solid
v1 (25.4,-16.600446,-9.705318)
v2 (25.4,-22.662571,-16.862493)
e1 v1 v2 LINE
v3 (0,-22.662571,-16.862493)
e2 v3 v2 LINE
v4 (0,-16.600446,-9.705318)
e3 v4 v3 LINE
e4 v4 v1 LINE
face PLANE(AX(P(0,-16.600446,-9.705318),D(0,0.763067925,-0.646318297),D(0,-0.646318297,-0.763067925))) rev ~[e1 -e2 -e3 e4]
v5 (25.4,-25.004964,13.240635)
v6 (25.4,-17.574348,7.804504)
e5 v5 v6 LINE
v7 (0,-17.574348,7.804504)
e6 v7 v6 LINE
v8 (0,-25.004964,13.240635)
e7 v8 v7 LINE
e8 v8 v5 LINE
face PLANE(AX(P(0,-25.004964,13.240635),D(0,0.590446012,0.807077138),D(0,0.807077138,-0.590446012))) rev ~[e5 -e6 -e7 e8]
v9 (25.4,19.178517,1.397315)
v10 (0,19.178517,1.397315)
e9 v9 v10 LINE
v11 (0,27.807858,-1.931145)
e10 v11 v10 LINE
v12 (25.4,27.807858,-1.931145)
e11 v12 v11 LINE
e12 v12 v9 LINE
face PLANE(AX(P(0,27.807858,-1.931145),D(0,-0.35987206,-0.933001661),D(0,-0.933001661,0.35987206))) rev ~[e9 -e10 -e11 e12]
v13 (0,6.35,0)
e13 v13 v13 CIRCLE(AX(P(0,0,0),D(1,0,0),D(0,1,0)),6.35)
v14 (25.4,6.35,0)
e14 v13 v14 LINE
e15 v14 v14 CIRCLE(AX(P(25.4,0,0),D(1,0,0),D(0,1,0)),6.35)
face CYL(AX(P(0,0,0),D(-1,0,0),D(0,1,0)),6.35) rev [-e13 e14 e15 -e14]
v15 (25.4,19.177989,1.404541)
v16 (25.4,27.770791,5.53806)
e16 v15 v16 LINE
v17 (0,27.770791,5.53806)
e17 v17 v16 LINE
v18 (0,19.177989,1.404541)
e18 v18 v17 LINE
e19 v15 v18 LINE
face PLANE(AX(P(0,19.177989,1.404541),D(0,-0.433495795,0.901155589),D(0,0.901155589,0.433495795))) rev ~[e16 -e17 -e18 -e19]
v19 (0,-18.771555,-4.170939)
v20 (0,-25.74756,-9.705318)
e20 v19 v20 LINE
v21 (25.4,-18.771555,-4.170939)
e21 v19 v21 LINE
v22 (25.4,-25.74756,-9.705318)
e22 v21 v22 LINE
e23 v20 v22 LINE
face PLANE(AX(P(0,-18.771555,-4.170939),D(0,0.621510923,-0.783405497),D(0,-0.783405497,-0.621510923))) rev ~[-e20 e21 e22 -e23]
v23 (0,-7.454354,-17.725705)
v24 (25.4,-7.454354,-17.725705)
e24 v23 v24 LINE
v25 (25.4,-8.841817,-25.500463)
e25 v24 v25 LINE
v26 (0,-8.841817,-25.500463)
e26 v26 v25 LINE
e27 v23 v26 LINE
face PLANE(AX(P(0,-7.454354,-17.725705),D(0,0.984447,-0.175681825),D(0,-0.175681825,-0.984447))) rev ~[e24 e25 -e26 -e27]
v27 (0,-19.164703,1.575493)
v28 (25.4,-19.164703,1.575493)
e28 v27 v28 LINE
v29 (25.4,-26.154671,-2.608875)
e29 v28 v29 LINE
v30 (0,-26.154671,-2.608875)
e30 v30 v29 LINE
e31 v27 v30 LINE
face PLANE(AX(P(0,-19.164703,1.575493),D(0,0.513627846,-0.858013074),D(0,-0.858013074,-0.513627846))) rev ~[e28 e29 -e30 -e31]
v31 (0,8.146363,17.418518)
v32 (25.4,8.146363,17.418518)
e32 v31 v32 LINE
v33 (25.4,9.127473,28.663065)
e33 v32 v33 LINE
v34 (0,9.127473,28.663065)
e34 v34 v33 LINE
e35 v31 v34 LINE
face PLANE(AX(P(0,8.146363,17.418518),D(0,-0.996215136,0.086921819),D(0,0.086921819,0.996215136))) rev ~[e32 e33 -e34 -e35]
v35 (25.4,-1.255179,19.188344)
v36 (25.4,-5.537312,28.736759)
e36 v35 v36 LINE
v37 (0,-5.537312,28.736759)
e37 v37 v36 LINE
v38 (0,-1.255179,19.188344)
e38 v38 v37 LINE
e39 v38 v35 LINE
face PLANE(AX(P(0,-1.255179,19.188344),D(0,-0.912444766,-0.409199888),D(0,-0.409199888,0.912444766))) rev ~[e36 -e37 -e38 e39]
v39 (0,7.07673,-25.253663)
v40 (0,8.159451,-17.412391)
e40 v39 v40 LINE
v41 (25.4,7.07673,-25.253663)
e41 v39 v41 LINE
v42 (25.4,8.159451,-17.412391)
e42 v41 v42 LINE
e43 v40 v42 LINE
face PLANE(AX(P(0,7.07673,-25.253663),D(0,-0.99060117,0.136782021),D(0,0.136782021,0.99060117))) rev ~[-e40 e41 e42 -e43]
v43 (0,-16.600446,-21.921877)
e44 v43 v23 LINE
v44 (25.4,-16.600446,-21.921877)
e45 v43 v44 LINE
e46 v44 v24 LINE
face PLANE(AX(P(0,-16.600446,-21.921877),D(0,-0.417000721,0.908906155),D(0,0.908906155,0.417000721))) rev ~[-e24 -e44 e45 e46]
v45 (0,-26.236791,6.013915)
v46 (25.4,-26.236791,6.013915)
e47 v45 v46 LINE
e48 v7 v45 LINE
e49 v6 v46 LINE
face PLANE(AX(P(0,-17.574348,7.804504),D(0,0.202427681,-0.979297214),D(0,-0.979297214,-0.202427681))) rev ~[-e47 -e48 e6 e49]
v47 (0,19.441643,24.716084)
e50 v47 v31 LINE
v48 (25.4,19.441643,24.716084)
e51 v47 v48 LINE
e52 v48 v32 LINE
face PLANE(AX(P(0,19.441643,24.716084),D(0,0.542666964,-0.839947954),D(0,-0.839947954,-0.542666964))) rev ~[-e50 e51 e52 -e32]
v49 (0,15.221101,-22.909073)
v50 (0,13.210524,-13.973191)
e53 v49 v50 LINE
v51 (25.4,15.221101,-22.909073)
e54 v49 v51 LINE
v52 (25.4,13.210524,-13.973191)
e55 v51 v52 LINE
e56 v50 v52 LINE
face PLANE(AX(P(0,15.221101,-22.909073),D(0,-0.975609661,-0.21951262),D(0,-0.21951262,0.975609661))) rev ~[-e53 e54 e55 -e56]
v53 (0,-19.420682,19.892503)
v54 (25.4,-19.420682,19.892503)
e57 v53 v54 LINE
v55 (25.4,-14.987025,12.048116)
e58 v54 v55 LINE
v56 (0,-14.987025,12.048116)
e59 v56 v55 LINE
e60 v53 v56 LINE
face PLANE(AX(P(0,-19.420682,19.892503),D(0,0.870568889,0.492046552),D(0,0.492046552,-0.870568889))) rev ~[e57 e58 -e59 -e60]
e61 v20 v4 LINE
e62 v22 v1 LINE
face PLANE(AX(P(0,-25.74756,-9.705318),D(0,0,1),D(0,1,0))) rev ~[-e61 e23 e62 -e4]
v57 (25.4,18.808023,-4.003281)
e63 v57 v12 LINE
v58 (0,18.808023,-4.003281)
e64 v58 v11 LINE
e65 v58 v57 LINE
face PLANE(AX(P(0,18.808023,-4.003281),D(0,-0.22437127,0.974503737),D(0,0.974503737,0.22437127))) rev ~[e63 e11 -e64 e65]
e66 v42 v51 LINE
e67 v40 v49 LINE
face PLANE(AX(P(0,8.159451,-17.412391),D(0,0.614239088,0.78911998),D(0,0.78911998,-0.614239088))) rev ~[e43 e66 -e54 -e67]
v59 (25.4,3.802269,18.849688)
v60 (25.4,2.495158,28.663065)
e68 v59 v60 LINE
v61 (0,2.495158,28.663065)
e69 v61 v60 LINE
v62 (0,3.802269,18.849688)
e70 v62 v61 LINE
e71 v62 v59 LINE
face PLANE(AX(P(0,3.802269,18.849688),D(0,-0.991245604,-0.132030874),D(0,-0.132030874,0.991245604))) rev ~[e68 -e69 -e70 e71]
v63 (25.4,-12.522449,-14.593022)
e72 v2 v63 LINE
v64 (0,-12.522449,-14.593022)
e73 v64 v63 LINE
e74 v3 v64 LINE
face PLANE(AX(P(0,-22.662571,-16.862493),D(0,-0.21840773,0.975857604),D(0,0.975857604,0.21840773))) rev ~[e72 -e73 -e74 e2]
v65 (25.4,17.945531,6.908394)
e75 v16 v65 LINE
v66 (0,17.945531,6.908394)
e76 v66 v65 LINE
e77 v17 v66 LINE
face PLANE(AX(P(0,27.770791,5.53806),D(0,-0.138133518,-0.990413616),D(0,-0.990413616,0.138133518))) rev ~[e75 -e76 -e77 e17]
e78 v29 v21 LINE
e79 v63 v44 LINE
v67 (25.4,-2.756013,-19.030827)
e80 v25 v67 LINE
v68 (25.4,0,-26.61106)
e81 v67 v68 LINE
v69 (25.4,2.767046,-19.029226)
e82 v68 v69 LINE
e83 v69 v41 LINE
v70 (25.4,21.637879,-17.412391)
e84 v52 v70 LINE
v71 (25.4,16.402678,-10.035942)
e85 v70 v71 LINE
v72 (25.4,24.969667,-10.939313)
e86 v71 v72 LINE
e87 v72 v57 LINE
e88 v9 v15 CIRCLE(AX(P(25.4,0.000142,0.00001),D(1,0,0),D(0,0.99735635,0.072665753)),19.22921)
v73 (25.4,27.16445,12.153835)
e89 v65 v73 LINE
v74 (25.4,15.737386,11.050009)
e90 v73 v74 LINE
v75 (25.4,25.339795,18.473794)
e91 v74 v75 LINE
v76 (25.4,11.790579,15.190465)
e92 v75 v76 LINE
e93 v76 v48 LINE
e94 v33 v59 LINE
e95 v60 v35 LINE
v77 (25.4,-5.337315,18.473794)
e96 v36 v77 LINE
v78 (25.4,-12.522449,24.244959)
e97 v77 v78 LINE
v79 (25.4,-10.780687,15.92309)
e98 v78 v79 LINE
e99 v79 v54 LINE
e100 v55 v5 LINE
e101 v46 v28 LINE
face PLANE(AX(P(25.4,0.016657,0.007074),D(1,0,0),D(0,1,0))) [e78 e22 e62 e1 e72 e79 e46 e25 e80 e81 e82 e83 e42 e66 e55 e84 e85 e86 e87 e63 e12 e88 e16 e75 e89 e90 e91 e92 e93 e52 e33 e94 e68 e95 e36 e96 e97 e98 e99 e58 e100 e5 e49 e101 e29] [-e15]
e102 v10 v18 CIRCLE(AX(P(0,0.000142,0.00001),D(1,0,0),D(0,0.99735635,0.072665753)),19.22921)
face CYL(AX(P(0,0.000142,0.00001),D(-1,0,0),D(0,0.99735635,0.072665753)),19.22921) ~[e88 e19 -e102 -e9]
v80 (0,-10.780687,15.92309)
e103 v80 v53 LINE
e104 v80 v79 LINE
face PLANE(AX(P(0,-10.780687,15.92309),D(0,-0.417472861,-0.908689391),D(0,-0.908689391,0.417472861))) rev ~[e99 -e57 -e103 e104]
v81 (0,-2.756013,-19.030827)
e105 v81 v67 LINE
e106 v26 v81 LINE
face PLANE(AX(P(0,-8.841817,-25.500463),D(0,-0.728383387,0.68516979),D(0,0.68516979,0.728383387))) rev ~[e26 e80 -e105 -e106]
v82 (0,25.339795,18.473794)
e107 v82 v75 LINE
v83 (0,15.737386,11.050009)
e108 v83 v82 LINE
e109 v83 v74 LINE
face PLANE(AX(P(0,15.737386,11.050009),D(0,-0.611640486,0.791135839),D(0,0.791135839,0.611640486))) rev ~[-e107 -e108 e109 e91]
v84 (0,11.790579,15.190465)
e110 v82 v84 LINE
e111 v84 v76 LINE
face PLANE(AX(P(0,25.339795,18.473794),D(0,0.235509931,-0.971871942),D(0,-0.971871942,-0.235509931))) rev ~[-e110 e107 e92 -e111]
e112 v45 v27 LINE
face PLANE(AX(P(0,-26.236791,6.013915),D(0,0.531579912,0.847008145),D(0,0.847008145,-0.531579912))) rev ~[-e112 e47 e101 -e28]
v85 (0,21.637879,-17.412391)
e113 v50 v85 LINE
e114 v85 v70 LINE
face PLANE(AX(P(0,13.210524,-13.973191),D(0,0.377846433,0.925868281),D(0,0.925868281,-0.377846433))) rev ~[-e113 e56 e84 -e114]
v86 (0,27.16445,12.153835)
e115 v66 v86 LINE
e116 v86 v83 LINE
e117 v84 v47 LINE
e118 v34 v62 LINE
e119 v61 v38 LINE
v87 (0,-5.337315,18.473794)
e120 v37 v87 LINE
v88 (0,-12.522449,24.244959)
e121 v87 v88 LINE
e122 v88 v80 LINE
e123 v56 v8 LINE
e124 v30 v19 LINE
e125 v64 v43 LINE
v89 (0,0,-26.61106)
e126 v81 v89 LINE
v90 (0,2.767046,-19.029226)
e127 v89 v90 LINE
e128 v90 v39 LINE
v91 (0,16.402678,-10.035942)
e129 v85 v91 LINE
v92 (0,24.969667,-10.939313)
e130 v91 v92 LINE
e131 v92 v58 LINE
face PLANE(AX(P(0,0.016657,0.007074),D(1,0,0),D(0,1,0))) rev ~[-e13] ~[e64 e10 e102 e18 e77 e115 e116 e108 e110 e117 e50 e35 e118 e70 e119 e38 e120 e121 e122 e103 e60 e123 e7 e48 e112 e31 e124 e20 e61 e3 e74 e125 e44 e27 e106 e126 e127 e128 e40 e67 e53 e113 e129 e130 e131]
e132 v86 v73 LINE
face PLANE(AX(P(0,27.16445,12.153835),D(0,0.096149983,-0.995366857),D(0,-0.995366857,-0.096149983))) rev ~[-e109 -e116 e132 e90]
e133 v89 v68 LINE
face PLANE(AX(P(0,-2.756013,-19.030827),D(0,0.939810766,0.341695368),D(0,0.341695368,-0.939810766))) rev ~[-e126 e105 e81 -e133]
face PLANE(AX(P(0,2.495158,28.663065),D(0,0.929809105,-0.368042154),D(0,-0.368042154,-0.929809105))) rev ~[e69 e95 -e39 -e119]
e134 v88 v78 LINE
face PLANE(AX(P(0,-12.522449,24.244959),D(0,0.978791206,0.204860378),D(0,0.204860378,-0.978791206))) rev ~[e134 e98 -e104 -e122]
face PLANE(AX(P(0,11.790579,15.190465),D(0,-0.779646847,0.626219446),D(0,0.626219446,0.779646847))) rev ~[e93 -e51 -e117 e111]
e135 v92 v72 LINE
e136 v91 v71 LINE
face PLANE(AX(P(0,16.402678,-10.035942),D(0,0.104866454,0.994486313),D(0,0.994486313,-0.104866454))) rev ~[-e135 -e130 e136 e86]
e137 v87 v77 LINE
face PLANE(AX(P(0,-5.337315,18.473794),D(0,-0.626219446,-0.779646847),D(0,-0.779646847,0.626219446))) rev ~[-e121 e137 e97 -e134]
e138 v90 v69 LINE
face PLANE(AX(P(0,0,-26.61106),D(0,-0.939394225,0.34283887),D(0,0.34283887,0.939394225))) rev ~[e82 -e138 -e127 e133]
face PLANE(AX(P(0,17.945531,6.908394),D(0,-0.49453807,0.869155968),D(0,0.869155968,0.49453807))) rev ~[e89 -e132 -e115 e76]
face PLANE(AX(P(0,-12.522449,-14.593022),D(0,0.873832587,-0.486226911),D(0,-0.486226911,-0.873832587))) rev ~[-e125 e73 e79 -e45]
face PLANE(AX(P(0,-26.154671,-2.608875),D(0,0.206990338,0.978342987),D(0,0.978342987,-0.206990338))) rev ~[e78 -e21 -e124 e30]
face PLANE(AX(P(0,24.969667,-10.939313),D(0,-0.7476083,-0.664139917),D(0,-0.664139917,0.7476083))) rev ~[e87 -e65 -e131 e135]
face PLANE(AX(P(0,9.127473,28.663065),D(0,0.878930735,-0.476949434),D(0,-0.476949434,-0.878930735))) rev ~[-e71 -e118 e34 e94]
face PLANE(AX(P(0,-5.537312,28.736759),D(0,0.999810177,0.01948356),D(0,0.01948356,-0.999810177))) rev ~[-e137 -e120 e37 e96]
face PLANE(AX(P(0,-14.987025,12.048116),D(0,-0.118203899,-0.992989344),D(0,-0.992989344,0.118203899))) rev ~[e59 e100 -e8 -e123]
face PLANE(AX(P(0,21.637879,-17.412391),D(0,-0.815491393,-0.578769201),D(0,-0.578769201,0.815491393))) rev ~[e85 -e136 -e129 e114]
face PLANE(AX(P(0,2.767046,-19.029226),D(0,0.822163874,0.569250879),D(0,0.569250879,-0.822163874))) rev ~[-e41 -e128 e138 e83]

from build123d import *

# Parameters (mm, degrees)
F0_R     = 6.35
F1_DEPTH = 12.7
F2_DEPTH = 25.4


with BuildPart() as f1:
    # F0 (on Right) → F1 (new body)
    with BuildSketch(Plane.YZ):
        with BuildLine():
            ThreePointArc((19.1779890784, 1.4045410483), (18.7646486695, 4.2018996845), (17.9455312271, 6.9083941421))
            ThreePointArc((17.9455312271, 6.9083941421), (16.9682929221, 9.0468246339), (15.7373856101, 11.0500088147))
            ThreePointArc((15.7373856101, 11.0500088147), (13.9188023359, 13.267816029), (11.7905793137, 15.1904654337))
            ThreePointArc((11.7905793137, 15.1904654337), (10.0305268432, 16.4059907319), (8.146362677, 17.4185181856))
            Line((8.146362677, 17.4185181856), (6.2738156783, 18.1771075114))
            ThreePointArc((6.2738156783, 18.1771075114), (5.0492538332, 18.5545960984), (3.8022694856, 18.8496882575))
            ThreePointArc((3.8022694856, 18.8496882575), (1.284752774, 19.1863860838), (-1.2551787188, 19.1883435197))
            ThreePointArc((-1.2551787188, 19.1883435197), (-3.3155527437, 18.9413597888), (-5.33731542, 18.473794))
            ThreePointArc((-5.33731542, 18.473794), (-8.1592905959, 17.4124661556), (-10.7806869477, 15.9230898252))
            ThreePointArc((-10.7806869477, 15.9230898252), (-13.0287220692, 14.1428569211), (-14.987024811, 12.0481155357))
            ThreePointArc((-14.987024811, 12.0481155357), (-16.4183682627, 10.0102539547), (-17.5743483924, 7.8045037785))
            ThreePointArc((-17.5743483924, 7.8045037785), (-18.6316829863, 4.7569307063), (-19.1647025444, 1.5754926314))
            ThreePointArc((-19.1647025444, 1.5754926314), (-19.1845061039, -1.3125266459), (-18.7715548633, -4.1709385826))
            ThreePointArc((-18.7715548633, -4.1709385826), (-17.9011716614, -7.0225389849), (-16.6004457918, -9.705318138))
            ThreePointArc((-16.6004457918, -9.705318138), (-14.7650993301, -12.3190844798), (-12.5224487856, -14.5930215192))
            ThreePointArc((-12.5224487856, -14.5930215192), (-10.1104693622, -16.356845965), (-7.4543542534, -17.7257045928))
            ThreePointArc((-7.4543542534, -17.7257045928), (-5.1467207251, -18.5277971282), (-2.7560125907, -19.0308274977))
            ThreePointArc((-2.7560125907, -19.0308274977), (0.0055746036, -19.229351772), (2.7670462291, -19.0292263588))
            ThreePointArc((2.7670462291, -19.0292263588), (5.5227369883, -18.4192121657), (8.1594508744, -17.4123910499))
            ThreePointArc((8.1594508744, -17.4123910499), (10.8224755536, -15.8947168436), (13.2105236497, -13.973190958))
            ThreePointArc((13.2105236497, -13.973190958), (14.9368977955, -12.1102058155), (16.4026784276, -10.0359424594))
            ThreePointArc((16.4026784276, -10.0359424594), (17.8618765328, -7.1218935245), (18.8080234165, -4.003280631))
            ThreePointArc((18.8080234165, -4.003280631), (19.1237302096, -2.0126955852), (19.22935258, 0))
            ThreePointArc((19.22935258, 0), (19.2166394569, 0.6991198959), (19.1785168978, 1.397315372))
            Line((19.1785168978, 1.397315372), (19.1698875278, 1.4006438432))
            Line((19.1698875278, 1.4006438432), (19.1779890784, 1.4045410483))
        make_face()
        Circle(F0_R, mode=Mode.SUBTRACT)
        with BuildLine():
            Line((27.7707912028, 5.5380598642), (17.9455312271, 6.9083941421))
            ThreePointArc((17.9455312271, 6.9083941421), (18.7646486695, 4.2018996845), (19.1779890784, 1.4045410483))
            Line((19.1779890784, 1.4045410483), (27.7707912028, 5.5380598642))
        make_face()
        with BuildLine():
            ThreePointArc((15.7373856101, 11.0500088147), (16.9682929221, 9.0468246339), (17.9455312271, 6.9083941421))
            Line((17.9455312271, 6.9083941421), (27.1644499153, 12.1538350359))
            Line((27.1644499153, 12.1538350359), (15.7373856101, 11.0500088147))
        make_face()
        with BuildLine():
            ThreePointArc((11.7905793137, 15.1904654337), (13.9188023359, 13.267816029), (15.7373856101, 11.0500088147))
            Line((15.7373856101, 11.0500088147), (25.3397952765, 18.473794))
            Line((25.3397952765, 18.473794), (11.7905793137, 15.1904654337))
        make_face()
        with BuildLine():
            ThreePointArc((19.1785168978, 1.397315372), (19.1782533284, 1.400928235), (19.1779890784, 1.4045410483))
            Line((19.1779890784, 1.4045410483), (19.1698875278, 1.4006438432))
            Line((19.1698875278, 1.4006438432), (19.1785168978, 1.397315372))
        make_face()
        with BuildLine():
            ThreePointArc((8.146362677, 17.4185181856), (10.0305268432, 16.4059907319), (11.7905793137, 15.1904654337))
            Line((11.7905793137, 15.1904654337), (19.4416427454, 24.7160838446))
            Line((19.4416427454, 24.7160838446), (8.146362677, 17.4185181856))
        make_face()
        with BuildLine():
            Line((27.8078578413, -1.9311446231), (19.1785168978, 1.397315372))
            ThreePointArc((19.1785168978, 1.397315372), (19.2166394569, 0.6991198959), (19.22935258, 0))
            ThreePointArc((19.22935258, 0), (19.1237302096, -2.0126955852), (18.8080234165, -4.003280631))
            Line((18.8080234165, -4.003280631), (27.8078578413, -1.9311446231))
        make_face()
        with BuildLine():
            Line((6.2738156783, 18.1771075114), (8.146362677, 17.4185181856))
            ThreePointArc((8.146362677, 17.4185181856), (7.2200588911, 17.822422682), (6.2738156783, 18.1771075114))
        make_face()
        with BuildLine():
            ThreePointArc((6.2738156783, 18.1771075114), (7.2200588911, 17.822422682), (8.146362677, 17.4185181856))
            Line((8.146362677, 17.4185181856), (9.1274725273, 28.6630652845))
            Line((9.1274725273, 28.6630652845), (3.8022694856, 18.8496882575))
            ThreePointArc((3.8022694856, 18.8496882575), (5.0492538332, 18.5545960984), (6.2738156783, 18.1771075114))
        make_face()
        with BuildLine():
            Line((24.9696671963, -10.9393130988), (18.8080234165, -4.003280631))
            ThreePointArc((18.8080234165, -4.003280631), (17.8618765328, -7.1218935245), (16.4026784276, -10.0359424594))
            Line((16.4026784276, -10.0359424594), (24.9696671963, -10.9393130988))
        make_face()
        with BuildLine():
            ThreePointArc((-1.2551787188, 19.1883435197), (1.284752774, 19.1863860838), (3.8022694856, 18.8496882575))
            Line((3.8022694856, 18.8496882575), (2.4951577652, 28.6630652845))
            Line((2.4951577652, 28.6630652845), (-1.2551787188, 19.1883435197))
        make_face()
        with BuildLine():
            Line((21.637879312, -17.4123910499), (16.4026784276, -10.0359424594))
            ThreePointArc((16.4026784276, -10.0359424594), (14.9368977955, -12.1102058155), (13.2105236497, -13.973190958))
            Line((13.2105236497, -13.973190958), (21.637879312, -17.4123910499))
        make_face()
        with BuildLine():
            ThreePointArc((-5.33731542, 18.473794), (-3.3155527437, 18.9413597888), (-1.2551787188, 19.1883435197))
            Line((-1.2551787188, 19.1883435197), (-5.5373124778, 28.7367589772))
            Line((-5.5373124778, 28.7367589772), (-5.33731542, 18.473794))
        make_face()
        with BuildLine():
            Line((15.2211012319, -22.9090731591), (13.2105236497, -13.973190958))
            ThreePointArc((13.2105236497, -13.973190958), (10.8224755536, -15.8947168436), (8.1594508744, -17.4123910499))
            Line((8.1594508744, -17.4123910499), (15.2211012319, -22.9090731591))
        make_face()
        with BuildLine():
            ThreePointArc((-10.7806869477, 15.9230898252), (-8.1592905959, 17.4124661556), (-5.33731542, 18.473794))
            Line((-5.33731542, 18.473794), (-12.5224487856, 24.2449585348))
            Line((-12.5224487856, 24.2449585348), (-10.7806869477, 15.9230898252))
        make_face()
        with BuildLine():
            Line((7.0767295547, -25.2536628395), (8.1594508744, -17.4123910499))
            ThreePointArc((8.1594508744, -17.4123910499), (5.5227369883, -18.4192121657), (2.7670462291, -19.0292263588))
            Line((2.7670462291, -19.0292263588), (7.0767295547, -25.2536628395))
        make_face()
        with BuildLine():
            ThreePointArc((-14.987024811, 12.0481155357), (-13.0287220692, 14.1428569211), (-10.7806869477, 15.9230898252))
            Line((-10.7806869477, 15.9230898252), (-19.4206815213, 19.8925025761))
            Line((-19.4206815213, 19.8925025761), (-14.987024811, 12.0481155357))
        make_face()
        with BuildLine():
            Line((0, -26.6110599041), (2.7670462291, -19.0292263588))
            ThreePointArc((2.7670462291, -19.0292263588), (0.0055746036, -19.229351772), (-2.7560125907, -19.0308274977))
            Line((-2.7560125907, -19.0308274977), (0, -26.6110599041))
        make_face()
        with BuildLine():
            ThreePointArc((-17.5743483924, 7.8045037785), (-16.4183682627, 10.0102539547), (-14.987024811, 12.0481155357))
            Line((-14.987024811, 12.0481155357), (-25.0049643219, 13.2406353951))
            Line((-25.0049643219, 13.2406353951), (-17.5743483924, 7.8045037785))
        make_face()
        with BuildLine():
            Line((-8.8418172672, -25.5004633218), (-2.7560125907, -19.0308274977))
            ThreePointArc((-2.7560125907, -19.0308274977), (-5.1467207251, -18.5277971282), (-7.4543542534, -17.7257045928))
            Line((-7.4543542534, -17.7257045928), (-8.8418172672, -25.5004633218))
        make_face()
        with BuildLine():
            ThreePointArc((-19.1647025444, 1.5754926314), (-18.6316829863, 4.7569307063), (-17.5743483924, 7.8045037785))
            Line((-17.5743483924, 7.8045037785), (-26.2367911637, 6.0139154084))
            Line((-26.2367911637, 6.0139154084), (-19.1647025444, 1.5754926314))
        make_face()
        with BuildLine():
            Line((-16.6004457918, -21.9218768179), (-7.4543542534, -17.7257045928))
            ThreePointArc((-7.4543542534, -17.7257045928), (-10.1104693622, -16.356845965), (-12.5224487856, -14.5930215192))
            Line((-12.5224487856, -14.5930215192), (-16.6004457918, -21.9218768179))
        make_face()
        with BuildLine():
            ThreePointArc((-18.7715548633, -4.1709385826), (-19.1845061039, -1.3125266459), (-19.1647025444, 1.5754926314))
            Line((-19.1647025444, 1.5754926314), (-26.1546708643, -2.6088752784))
            Line((-26.1546708643, -2.6088752784), (-18.7715548633, -4.1709385826))
        make_face()
        with BuildLine():
            Line((-22.6625707, -16.8624930084), (-12.5224487856, -14.5930215192))
            ThreePointArc((-12.5224487856, -14.5930215192), (-14.7650993301, -12.3190844798), (-16.6004457918, -9.705318138))
            Line((-16.6004457918, -9.705318138), (-22.6625707, -16.8624930084))
        make_face()
        with BuildLine():
            ThreePointArc((-16.6004457918, -9.705318138), (-17.9011716614, -7.0225389849), (-18.7715548633, -4.1709385826))
            Line((-18.7715548633, -4.1709385826), (-25.7475599647, -9.705318138))
            Line((-25.7475599647, -9.705318138), (-16.6004457918, -9.705318138))
        make_face()
    extrude(amount=F1_DEPTH)

    # F0 (on Right) → F2 (join)
    with BuildSketch(Plane.YZ):
        with BuildLine():
            ThreePointArc((19.1779890784, 1.4045410483), (18.7646486695, 4.2018996845), (17.9455312271, 6.9083941421))
            ThreePointArc((17.9455312271, 6.9083941421), (16.9682929221, 9.0468246339), (15.7373856101, 11.0500088147))
            ThreePointArc((15.7373856101, 11.0500088147), (13.9188023359, 13.267816029), (11.7905793137, 15.1904654337))
            ThreePointArc((11.7905793137, 15.1904654337), (10.0305268432, 16.4059907319), (8.146362677, 17.4185181856))
            Line((8.146362677, 17.4185181856), (6.2738156783, 18.1771075114))
            ThreePointArc((6.2738156783, 18.1771075114), (5.0492538332, 18.5545960984), (3.8022694856, 18.8496882575))
            ThreePointArc((3.8022694856, 18.8496882575), (1.284752774, 19.1863860838), (-1.2551787188, 19.1883435197))
            ThreePointArc((-1.2551787188, 19.1883435197), (-3.3155527437, 18.9413597888), (-5.33731542, 18.473794))
            ThreePointArc((-5.33731542, 18.473794), (-8.1592905959, 17.4124661556), (-10.7806869477, 15.9230898252))
            ThreePointArc((-10.7806869477, 15.9230898252), (-13.0287220692, 14.1428569211), (-14.987024811, 12.0481155357))
            ThreePointArc((-14.987024811, 12.0481155357), (-16.4183682627, 10.0102539547), (-17.5743483924, 7.8045037785))
            ThreePointArc((-17.5743483924, 7.8045037785), (-18.6316829863, 4.7569307063), (-19.1647025444, 1.5754926314))
            ThreePointArc((-19.1647025444, 1.5754926314), (-19.1845061039, -1.3125266459), (-18.7715548633, -4.1709385826))
            ThreePointArc((-18.7715548633, -4.1709385826), (-17.9011716614, -7.0225389849), (-16.6004457918, -9.705318138))
            ThreePointArc((-16.6004457918, -9.705318138), (-14.7650993301, -12.3190844798), (-12.5224487856, -14.5930215192))
            ThreePointArc((-12.5224487856, -14.5930215192), (-10.1104693622, -16.356845965), (-7.4543542534, -17.7257045928))
            ThreePointArc((-7.4543542534, -17.7257045928), (-5.1467207251, -18.5277971282), (-2.7560125907, -19.0308274977))
            ThreePointArc((-2.7560125907, -19.0308274977), (0.0055746036, -19.229351772), (2.7670462291, -19.0292263588))
            ThreePointArc((2.7670462291, -19.0292263588), (5.5227369883, -18.4192121657), (8.1594508744, -17.4123910499))
            ThreePointArc((8.1594508744, -17.4123910499), (10.8224755536, -15.8947168436), (13.2105236497, -13.973190958))
            ThreePointArc((13.2105236497, -13.973190958), (14.9368977955, -12.1102058155), (16.4026784276, -10.0359424594))
            ThreePointArc((16.4026784276, -10.0359424594), (17.8618765328, -7.1218935245), (18.8080234165, -4.003280631))
            ThreePointArc((18.8080234165, -4.003280631), (19.1237302096, -2.0126955852), (19.22935258, 0))
            ThreePointArc((19.22935258, 0), (19.2166394569, 0.6991198959), (19.1785168978, 1.397315372))
            Line((19.1785168978, 1.397315372), (19.1698875278, 1.4006438432))
            Line((19.1698875278, 1.4006438432), (19.1779890784, 1.4045410483))
        make_face()
        Circle(F0_R, mode=Mode.SUBTRACT)
        with BuildLine():
            Line((27.7707912028, 5.5380598642), (17.9455312271, 6.9083941421))
            ThreePointArc((17.9455312271, 6.9083941421), (18.7646486695, 4.2018996845), (19.1779890784, 1.4045410483))
            Line((19.1779890784, 1.4045410483), (27.7707912028, 5.5380598642))
        make_face()
        with BuildLine():
            ThreePointArc((15.7373856101, 11.0500088147), (16.9682929221, 9.0468246339), (17.9455312271, 6.9083941421))
            Line((17.9455312271, 6.9083941421), (27.1644499153, 12.1538350359))
            Line((27.1644499153, 12.1538350359), (15.7373856101, 11.0500088147))
        make_face()
        with BuildLine():
            ThreePointArc((11.7905793137, 15.1904654337), (13.9188023359, 13.267816029), (15.7373856101, 11.0500088147))
            Line((15.7373856101, 11.0500088147), (25.3397952765, 18.473794))
            Line((25.3397952765, 18.473794), (11.7905793137, 15.1904654337))
        make_face()
        with BuildLine():
            ThreePointArc((19.1785168978, 1.397315372), (19.1782533284, 1.400928235), (19.1779890784, 1.4045410483))
            Line((19.1779890784, 1.4045410483), (19.1698875278, 1.4006438432))
            Line((19.1698875278, 1.4006438432), (19.1785168978, 1.397315372))
        make_face()
        with BuildLine():
            ThreePointArc((8.146362677, 17.4185181856), (10.0305268432, 16.4059907319), (11.7905793137, 15.1904654337))
            Line((11.7905793137, 15.1904654337), (19.4416427454, 24.7160838446))
            Line((19.4416427454, 24.7160838446), (8.146362677, 17.4185181856))
        make_face()
        with BuildLine():
            Line((27.8078578413, -1.9311446231), (19.1785168978, 1.397315372))
            ThreePointArc((19.1785168978, 1.397315372), (19.2166394569, 0.6991198959), (19.22935258, 0))
            ThreePointArc((19.22935258, 0), (19.1237302096, -2.0126955852), (18.8080234165, -4.003280631))
            Line((18.8080234165, -4.003280631), (27.8078578413, -1.9311446231))
        make_face()
        with BuildLine():
            Line((6.2738156783, 18.1771075114), (8.146362677, 17.4185181856))
            ThreePointArc((8.146362677, 17.4185181856), (7.2200588911, 17.822422682), (6.2738156783, 18.1771075114))
        make_face()
        with BuildLine():
            ThreePointArc((6.2738156783, 18.1771075114), (7.2200588911, 17.822422682), (8.146362677, 17.4185181856))
            Line((8.146362677, 17.4185181856), (9.1274725273, 28.6630652845))
            Line((9.1274725273, 28.6630652845), (3.8022694856, 18.8496882575))
            ThreePointArc((3.8022694856, 18.8496882575), (5.0492538332, 18.5545960984), (6.2738156783, 18.1771075114))
        make_face()
        with BuildLine():
            Line((24.9696671963, -10.9393130988), (18.8080234165, -4.003280631))
            ThreePointArc((18.8080234165, -4.003280631), (17.8618765328, -7.1218935245), (16.4026784276, -10.0359424594))
            Line((16.4026784276, -10.0359424594), (24.9696671963, -10.9393130988))
        make_face()
        with BuildLine():
            ThreePointArc((-1.2551787188, 19.1883435197), (1.284752774, 19.1863860838), (3.8022694856, 18.8496882575))
            Line((3.8022694856, 18.8496882575), (2.4951577652, 28.6630652845))
            Line((2.4951577652, 28.6630652845), (-1.2551787188, 19.1883435197))
        make_face()
        with BuildLine():
            Line((21.637879312, -17.4123910499), (16.4026784276, -10.0359424594))
            ThreePointArc((16.4026784276, -10.0359424594), (14.9368977955, -12.1102058155), (13.2105236497, -13.973190958))
            Line((13.2105236497, -13.973190958), (21.637879312, -17.4123910499))
        make_face()
        with BuildLine():
            ThreePointArc((-5.33731542, 18.473794), (-3.3155527437, 18.9413597888), (-1.2551787188, 19.1883435197))
            Line((-1.2551787188, 19.1883435197), (-5.5373124778, 28.7367589772))
            Line((-5.5373124778, 28.7367589772), (-5.33731542, 18.473794))
        make_face()
        with BuildLine():
            Line((15.2211012319, -22.9090731591), (13.2105236497, -13.973190958))
            ThreePointArc((13.2105236497, -13.973190958), (10.8224755536, -15.8947168436), (8.1594508744, -17.4123910499))
            Line((8.1594508744, -17.4123910499), (15.2211012319, -22.9090731591))
        make_face()
        with BuildLine():
            ThreePointArc((-10.7806869477, 15.9230898252), (-8.1592905959, 17.4124661556), (-5.33731542, 18.473794))
            Line((-5.33731542, 18.473794), (-12.5224487856, 24.2449585348))
            Line((-12.5224487856, 24.2449585348), (-10.7806869477, 15.9230898252))
        make_face()
        with BuildLine():
            Line((7.0767295547, -25.2536628395), (8.1594508744, -17.4123910499))
            ThreePointArc((8.1594508744, -17.4123910499), (5.5227369883, -18.4192121657), (2.7670462291, -19.0292263588))
            Line((2.7670462291, -19.0292263588), (7.0767295547, -25.2536628395))
        make_face()
        with BuildLine():
            ThreePointArc((-14.987024811, 12.0481155357), (-13.0287220692, 14.1428569211), (-10.7806869477, 15.9230898252))
            Line((-10.7806869477, 15.9230898252), (-19.4206815213, 19.8925025761))
            Line((-19.4206815213, 19.8925025761), (-14.987024811, 12.0481155357))
        make_face()
        with BuildLine():
            Line((0, -26.6110599041), (2.7670462291, -19.0292263588))
            ThreePointArc((2.7670462291, -19.0292263588), (0.0055746036, -19.229351772), (-2.7560125907, -19.0308274977))
            Line((-2.7560125907, -19.0308274977), (0, -26.6110599041))
        make_face()
        with BuildLine():
            ThreePointArc((-17.5743483924, 7.8045037785), (-16.4183682627, 10.0102539547), (-14.987024811, 12.0481155357))
            Line((-14.987024811, 12.0481155357), (-25.0049643219, 13.2406353951))
            Line((-25.0049643219, 13.2406353951), (-17.5743483924, 7.8045037785))
        make_face()
        with BuildLine():
            Line((-8.8418172672, -25.5004633218), (-2.7560125907, -19.0308274977))
            ThreePointArc((-2.7560125907, -19.0308274977), (-5.1467207251, -18.5277971282), (-7.4543542534, -17.7257045928))
            Line((-7.4543542534, -17.7257045928), (-8.8418172672, -25.5004633218))
        make_face()
        with BuildLine():
            ThreePointArc((-19.1647025444, 1.5754926314), (-18.6316829863, 4.7569307063), (-17.5743483924, 7.8045037785))
            Line((-17.5743483924, 7.8045037785), (-26.2367911637, 6.0139154084))
            Line((-26.2367911637, 6.0139154084), (-19.1647025444, 1.5754926314))
        make_face()
        with BuildLine():
            Line((-16.6004457918, -21.9218768179), (-7.4543542534, -17.7257045928))
            ThreePointArc((-7.4543542534, -17.7257045928), (-10.1104693622, -16.356845965), (-12.5224487856, -14.5930215192))
            Line((-12.5224487856, -14.5930215192), (-16.6004457918, -21.9218768179))
        make_face()
        with BuildLine():
            ThreePointArc((-18.7715548633, -4.1709385826), (-19.1845061039, -1.3125266459), (-19.1647025444, 1.5754926314))
            Line((-19.1647025444, 1.5754926314), (-26.1546708643, -2.6088752784))
            Line((-26.1546708643, -2.6088752784), (-18.7715548633, -4.1709385826))
        make_face()
        with BuildLine():
            Line((-22.6625707, -16.8624930084), (-12.5224487856, -14.5930215192))
            ThreePointArc((-12.5224487856, -14.5930215192), (-14.7650993301, -12.3190844798), (-16.6004457918, -9.705318138))
            Line((-16.6004457918, -9.705318138), (-22.6625707, -16.8624930084))
        make_face()
        with BuildLine():
            ThreePointArc((-16.6004457918, -9.705318138), (-17.9011716614, -7.0225389849), (-18.7715548633, -4.1709385826))
            Line((-18.7715548633, -4.1709385826), (-25.7475599647, -9.705318138))
            Line((-25.7475599647, -9.705318138), (-16.6004457918, -9.705318138))
        make_face()
    extrude(amount=F2_DEPTH)


solid = f1.part
